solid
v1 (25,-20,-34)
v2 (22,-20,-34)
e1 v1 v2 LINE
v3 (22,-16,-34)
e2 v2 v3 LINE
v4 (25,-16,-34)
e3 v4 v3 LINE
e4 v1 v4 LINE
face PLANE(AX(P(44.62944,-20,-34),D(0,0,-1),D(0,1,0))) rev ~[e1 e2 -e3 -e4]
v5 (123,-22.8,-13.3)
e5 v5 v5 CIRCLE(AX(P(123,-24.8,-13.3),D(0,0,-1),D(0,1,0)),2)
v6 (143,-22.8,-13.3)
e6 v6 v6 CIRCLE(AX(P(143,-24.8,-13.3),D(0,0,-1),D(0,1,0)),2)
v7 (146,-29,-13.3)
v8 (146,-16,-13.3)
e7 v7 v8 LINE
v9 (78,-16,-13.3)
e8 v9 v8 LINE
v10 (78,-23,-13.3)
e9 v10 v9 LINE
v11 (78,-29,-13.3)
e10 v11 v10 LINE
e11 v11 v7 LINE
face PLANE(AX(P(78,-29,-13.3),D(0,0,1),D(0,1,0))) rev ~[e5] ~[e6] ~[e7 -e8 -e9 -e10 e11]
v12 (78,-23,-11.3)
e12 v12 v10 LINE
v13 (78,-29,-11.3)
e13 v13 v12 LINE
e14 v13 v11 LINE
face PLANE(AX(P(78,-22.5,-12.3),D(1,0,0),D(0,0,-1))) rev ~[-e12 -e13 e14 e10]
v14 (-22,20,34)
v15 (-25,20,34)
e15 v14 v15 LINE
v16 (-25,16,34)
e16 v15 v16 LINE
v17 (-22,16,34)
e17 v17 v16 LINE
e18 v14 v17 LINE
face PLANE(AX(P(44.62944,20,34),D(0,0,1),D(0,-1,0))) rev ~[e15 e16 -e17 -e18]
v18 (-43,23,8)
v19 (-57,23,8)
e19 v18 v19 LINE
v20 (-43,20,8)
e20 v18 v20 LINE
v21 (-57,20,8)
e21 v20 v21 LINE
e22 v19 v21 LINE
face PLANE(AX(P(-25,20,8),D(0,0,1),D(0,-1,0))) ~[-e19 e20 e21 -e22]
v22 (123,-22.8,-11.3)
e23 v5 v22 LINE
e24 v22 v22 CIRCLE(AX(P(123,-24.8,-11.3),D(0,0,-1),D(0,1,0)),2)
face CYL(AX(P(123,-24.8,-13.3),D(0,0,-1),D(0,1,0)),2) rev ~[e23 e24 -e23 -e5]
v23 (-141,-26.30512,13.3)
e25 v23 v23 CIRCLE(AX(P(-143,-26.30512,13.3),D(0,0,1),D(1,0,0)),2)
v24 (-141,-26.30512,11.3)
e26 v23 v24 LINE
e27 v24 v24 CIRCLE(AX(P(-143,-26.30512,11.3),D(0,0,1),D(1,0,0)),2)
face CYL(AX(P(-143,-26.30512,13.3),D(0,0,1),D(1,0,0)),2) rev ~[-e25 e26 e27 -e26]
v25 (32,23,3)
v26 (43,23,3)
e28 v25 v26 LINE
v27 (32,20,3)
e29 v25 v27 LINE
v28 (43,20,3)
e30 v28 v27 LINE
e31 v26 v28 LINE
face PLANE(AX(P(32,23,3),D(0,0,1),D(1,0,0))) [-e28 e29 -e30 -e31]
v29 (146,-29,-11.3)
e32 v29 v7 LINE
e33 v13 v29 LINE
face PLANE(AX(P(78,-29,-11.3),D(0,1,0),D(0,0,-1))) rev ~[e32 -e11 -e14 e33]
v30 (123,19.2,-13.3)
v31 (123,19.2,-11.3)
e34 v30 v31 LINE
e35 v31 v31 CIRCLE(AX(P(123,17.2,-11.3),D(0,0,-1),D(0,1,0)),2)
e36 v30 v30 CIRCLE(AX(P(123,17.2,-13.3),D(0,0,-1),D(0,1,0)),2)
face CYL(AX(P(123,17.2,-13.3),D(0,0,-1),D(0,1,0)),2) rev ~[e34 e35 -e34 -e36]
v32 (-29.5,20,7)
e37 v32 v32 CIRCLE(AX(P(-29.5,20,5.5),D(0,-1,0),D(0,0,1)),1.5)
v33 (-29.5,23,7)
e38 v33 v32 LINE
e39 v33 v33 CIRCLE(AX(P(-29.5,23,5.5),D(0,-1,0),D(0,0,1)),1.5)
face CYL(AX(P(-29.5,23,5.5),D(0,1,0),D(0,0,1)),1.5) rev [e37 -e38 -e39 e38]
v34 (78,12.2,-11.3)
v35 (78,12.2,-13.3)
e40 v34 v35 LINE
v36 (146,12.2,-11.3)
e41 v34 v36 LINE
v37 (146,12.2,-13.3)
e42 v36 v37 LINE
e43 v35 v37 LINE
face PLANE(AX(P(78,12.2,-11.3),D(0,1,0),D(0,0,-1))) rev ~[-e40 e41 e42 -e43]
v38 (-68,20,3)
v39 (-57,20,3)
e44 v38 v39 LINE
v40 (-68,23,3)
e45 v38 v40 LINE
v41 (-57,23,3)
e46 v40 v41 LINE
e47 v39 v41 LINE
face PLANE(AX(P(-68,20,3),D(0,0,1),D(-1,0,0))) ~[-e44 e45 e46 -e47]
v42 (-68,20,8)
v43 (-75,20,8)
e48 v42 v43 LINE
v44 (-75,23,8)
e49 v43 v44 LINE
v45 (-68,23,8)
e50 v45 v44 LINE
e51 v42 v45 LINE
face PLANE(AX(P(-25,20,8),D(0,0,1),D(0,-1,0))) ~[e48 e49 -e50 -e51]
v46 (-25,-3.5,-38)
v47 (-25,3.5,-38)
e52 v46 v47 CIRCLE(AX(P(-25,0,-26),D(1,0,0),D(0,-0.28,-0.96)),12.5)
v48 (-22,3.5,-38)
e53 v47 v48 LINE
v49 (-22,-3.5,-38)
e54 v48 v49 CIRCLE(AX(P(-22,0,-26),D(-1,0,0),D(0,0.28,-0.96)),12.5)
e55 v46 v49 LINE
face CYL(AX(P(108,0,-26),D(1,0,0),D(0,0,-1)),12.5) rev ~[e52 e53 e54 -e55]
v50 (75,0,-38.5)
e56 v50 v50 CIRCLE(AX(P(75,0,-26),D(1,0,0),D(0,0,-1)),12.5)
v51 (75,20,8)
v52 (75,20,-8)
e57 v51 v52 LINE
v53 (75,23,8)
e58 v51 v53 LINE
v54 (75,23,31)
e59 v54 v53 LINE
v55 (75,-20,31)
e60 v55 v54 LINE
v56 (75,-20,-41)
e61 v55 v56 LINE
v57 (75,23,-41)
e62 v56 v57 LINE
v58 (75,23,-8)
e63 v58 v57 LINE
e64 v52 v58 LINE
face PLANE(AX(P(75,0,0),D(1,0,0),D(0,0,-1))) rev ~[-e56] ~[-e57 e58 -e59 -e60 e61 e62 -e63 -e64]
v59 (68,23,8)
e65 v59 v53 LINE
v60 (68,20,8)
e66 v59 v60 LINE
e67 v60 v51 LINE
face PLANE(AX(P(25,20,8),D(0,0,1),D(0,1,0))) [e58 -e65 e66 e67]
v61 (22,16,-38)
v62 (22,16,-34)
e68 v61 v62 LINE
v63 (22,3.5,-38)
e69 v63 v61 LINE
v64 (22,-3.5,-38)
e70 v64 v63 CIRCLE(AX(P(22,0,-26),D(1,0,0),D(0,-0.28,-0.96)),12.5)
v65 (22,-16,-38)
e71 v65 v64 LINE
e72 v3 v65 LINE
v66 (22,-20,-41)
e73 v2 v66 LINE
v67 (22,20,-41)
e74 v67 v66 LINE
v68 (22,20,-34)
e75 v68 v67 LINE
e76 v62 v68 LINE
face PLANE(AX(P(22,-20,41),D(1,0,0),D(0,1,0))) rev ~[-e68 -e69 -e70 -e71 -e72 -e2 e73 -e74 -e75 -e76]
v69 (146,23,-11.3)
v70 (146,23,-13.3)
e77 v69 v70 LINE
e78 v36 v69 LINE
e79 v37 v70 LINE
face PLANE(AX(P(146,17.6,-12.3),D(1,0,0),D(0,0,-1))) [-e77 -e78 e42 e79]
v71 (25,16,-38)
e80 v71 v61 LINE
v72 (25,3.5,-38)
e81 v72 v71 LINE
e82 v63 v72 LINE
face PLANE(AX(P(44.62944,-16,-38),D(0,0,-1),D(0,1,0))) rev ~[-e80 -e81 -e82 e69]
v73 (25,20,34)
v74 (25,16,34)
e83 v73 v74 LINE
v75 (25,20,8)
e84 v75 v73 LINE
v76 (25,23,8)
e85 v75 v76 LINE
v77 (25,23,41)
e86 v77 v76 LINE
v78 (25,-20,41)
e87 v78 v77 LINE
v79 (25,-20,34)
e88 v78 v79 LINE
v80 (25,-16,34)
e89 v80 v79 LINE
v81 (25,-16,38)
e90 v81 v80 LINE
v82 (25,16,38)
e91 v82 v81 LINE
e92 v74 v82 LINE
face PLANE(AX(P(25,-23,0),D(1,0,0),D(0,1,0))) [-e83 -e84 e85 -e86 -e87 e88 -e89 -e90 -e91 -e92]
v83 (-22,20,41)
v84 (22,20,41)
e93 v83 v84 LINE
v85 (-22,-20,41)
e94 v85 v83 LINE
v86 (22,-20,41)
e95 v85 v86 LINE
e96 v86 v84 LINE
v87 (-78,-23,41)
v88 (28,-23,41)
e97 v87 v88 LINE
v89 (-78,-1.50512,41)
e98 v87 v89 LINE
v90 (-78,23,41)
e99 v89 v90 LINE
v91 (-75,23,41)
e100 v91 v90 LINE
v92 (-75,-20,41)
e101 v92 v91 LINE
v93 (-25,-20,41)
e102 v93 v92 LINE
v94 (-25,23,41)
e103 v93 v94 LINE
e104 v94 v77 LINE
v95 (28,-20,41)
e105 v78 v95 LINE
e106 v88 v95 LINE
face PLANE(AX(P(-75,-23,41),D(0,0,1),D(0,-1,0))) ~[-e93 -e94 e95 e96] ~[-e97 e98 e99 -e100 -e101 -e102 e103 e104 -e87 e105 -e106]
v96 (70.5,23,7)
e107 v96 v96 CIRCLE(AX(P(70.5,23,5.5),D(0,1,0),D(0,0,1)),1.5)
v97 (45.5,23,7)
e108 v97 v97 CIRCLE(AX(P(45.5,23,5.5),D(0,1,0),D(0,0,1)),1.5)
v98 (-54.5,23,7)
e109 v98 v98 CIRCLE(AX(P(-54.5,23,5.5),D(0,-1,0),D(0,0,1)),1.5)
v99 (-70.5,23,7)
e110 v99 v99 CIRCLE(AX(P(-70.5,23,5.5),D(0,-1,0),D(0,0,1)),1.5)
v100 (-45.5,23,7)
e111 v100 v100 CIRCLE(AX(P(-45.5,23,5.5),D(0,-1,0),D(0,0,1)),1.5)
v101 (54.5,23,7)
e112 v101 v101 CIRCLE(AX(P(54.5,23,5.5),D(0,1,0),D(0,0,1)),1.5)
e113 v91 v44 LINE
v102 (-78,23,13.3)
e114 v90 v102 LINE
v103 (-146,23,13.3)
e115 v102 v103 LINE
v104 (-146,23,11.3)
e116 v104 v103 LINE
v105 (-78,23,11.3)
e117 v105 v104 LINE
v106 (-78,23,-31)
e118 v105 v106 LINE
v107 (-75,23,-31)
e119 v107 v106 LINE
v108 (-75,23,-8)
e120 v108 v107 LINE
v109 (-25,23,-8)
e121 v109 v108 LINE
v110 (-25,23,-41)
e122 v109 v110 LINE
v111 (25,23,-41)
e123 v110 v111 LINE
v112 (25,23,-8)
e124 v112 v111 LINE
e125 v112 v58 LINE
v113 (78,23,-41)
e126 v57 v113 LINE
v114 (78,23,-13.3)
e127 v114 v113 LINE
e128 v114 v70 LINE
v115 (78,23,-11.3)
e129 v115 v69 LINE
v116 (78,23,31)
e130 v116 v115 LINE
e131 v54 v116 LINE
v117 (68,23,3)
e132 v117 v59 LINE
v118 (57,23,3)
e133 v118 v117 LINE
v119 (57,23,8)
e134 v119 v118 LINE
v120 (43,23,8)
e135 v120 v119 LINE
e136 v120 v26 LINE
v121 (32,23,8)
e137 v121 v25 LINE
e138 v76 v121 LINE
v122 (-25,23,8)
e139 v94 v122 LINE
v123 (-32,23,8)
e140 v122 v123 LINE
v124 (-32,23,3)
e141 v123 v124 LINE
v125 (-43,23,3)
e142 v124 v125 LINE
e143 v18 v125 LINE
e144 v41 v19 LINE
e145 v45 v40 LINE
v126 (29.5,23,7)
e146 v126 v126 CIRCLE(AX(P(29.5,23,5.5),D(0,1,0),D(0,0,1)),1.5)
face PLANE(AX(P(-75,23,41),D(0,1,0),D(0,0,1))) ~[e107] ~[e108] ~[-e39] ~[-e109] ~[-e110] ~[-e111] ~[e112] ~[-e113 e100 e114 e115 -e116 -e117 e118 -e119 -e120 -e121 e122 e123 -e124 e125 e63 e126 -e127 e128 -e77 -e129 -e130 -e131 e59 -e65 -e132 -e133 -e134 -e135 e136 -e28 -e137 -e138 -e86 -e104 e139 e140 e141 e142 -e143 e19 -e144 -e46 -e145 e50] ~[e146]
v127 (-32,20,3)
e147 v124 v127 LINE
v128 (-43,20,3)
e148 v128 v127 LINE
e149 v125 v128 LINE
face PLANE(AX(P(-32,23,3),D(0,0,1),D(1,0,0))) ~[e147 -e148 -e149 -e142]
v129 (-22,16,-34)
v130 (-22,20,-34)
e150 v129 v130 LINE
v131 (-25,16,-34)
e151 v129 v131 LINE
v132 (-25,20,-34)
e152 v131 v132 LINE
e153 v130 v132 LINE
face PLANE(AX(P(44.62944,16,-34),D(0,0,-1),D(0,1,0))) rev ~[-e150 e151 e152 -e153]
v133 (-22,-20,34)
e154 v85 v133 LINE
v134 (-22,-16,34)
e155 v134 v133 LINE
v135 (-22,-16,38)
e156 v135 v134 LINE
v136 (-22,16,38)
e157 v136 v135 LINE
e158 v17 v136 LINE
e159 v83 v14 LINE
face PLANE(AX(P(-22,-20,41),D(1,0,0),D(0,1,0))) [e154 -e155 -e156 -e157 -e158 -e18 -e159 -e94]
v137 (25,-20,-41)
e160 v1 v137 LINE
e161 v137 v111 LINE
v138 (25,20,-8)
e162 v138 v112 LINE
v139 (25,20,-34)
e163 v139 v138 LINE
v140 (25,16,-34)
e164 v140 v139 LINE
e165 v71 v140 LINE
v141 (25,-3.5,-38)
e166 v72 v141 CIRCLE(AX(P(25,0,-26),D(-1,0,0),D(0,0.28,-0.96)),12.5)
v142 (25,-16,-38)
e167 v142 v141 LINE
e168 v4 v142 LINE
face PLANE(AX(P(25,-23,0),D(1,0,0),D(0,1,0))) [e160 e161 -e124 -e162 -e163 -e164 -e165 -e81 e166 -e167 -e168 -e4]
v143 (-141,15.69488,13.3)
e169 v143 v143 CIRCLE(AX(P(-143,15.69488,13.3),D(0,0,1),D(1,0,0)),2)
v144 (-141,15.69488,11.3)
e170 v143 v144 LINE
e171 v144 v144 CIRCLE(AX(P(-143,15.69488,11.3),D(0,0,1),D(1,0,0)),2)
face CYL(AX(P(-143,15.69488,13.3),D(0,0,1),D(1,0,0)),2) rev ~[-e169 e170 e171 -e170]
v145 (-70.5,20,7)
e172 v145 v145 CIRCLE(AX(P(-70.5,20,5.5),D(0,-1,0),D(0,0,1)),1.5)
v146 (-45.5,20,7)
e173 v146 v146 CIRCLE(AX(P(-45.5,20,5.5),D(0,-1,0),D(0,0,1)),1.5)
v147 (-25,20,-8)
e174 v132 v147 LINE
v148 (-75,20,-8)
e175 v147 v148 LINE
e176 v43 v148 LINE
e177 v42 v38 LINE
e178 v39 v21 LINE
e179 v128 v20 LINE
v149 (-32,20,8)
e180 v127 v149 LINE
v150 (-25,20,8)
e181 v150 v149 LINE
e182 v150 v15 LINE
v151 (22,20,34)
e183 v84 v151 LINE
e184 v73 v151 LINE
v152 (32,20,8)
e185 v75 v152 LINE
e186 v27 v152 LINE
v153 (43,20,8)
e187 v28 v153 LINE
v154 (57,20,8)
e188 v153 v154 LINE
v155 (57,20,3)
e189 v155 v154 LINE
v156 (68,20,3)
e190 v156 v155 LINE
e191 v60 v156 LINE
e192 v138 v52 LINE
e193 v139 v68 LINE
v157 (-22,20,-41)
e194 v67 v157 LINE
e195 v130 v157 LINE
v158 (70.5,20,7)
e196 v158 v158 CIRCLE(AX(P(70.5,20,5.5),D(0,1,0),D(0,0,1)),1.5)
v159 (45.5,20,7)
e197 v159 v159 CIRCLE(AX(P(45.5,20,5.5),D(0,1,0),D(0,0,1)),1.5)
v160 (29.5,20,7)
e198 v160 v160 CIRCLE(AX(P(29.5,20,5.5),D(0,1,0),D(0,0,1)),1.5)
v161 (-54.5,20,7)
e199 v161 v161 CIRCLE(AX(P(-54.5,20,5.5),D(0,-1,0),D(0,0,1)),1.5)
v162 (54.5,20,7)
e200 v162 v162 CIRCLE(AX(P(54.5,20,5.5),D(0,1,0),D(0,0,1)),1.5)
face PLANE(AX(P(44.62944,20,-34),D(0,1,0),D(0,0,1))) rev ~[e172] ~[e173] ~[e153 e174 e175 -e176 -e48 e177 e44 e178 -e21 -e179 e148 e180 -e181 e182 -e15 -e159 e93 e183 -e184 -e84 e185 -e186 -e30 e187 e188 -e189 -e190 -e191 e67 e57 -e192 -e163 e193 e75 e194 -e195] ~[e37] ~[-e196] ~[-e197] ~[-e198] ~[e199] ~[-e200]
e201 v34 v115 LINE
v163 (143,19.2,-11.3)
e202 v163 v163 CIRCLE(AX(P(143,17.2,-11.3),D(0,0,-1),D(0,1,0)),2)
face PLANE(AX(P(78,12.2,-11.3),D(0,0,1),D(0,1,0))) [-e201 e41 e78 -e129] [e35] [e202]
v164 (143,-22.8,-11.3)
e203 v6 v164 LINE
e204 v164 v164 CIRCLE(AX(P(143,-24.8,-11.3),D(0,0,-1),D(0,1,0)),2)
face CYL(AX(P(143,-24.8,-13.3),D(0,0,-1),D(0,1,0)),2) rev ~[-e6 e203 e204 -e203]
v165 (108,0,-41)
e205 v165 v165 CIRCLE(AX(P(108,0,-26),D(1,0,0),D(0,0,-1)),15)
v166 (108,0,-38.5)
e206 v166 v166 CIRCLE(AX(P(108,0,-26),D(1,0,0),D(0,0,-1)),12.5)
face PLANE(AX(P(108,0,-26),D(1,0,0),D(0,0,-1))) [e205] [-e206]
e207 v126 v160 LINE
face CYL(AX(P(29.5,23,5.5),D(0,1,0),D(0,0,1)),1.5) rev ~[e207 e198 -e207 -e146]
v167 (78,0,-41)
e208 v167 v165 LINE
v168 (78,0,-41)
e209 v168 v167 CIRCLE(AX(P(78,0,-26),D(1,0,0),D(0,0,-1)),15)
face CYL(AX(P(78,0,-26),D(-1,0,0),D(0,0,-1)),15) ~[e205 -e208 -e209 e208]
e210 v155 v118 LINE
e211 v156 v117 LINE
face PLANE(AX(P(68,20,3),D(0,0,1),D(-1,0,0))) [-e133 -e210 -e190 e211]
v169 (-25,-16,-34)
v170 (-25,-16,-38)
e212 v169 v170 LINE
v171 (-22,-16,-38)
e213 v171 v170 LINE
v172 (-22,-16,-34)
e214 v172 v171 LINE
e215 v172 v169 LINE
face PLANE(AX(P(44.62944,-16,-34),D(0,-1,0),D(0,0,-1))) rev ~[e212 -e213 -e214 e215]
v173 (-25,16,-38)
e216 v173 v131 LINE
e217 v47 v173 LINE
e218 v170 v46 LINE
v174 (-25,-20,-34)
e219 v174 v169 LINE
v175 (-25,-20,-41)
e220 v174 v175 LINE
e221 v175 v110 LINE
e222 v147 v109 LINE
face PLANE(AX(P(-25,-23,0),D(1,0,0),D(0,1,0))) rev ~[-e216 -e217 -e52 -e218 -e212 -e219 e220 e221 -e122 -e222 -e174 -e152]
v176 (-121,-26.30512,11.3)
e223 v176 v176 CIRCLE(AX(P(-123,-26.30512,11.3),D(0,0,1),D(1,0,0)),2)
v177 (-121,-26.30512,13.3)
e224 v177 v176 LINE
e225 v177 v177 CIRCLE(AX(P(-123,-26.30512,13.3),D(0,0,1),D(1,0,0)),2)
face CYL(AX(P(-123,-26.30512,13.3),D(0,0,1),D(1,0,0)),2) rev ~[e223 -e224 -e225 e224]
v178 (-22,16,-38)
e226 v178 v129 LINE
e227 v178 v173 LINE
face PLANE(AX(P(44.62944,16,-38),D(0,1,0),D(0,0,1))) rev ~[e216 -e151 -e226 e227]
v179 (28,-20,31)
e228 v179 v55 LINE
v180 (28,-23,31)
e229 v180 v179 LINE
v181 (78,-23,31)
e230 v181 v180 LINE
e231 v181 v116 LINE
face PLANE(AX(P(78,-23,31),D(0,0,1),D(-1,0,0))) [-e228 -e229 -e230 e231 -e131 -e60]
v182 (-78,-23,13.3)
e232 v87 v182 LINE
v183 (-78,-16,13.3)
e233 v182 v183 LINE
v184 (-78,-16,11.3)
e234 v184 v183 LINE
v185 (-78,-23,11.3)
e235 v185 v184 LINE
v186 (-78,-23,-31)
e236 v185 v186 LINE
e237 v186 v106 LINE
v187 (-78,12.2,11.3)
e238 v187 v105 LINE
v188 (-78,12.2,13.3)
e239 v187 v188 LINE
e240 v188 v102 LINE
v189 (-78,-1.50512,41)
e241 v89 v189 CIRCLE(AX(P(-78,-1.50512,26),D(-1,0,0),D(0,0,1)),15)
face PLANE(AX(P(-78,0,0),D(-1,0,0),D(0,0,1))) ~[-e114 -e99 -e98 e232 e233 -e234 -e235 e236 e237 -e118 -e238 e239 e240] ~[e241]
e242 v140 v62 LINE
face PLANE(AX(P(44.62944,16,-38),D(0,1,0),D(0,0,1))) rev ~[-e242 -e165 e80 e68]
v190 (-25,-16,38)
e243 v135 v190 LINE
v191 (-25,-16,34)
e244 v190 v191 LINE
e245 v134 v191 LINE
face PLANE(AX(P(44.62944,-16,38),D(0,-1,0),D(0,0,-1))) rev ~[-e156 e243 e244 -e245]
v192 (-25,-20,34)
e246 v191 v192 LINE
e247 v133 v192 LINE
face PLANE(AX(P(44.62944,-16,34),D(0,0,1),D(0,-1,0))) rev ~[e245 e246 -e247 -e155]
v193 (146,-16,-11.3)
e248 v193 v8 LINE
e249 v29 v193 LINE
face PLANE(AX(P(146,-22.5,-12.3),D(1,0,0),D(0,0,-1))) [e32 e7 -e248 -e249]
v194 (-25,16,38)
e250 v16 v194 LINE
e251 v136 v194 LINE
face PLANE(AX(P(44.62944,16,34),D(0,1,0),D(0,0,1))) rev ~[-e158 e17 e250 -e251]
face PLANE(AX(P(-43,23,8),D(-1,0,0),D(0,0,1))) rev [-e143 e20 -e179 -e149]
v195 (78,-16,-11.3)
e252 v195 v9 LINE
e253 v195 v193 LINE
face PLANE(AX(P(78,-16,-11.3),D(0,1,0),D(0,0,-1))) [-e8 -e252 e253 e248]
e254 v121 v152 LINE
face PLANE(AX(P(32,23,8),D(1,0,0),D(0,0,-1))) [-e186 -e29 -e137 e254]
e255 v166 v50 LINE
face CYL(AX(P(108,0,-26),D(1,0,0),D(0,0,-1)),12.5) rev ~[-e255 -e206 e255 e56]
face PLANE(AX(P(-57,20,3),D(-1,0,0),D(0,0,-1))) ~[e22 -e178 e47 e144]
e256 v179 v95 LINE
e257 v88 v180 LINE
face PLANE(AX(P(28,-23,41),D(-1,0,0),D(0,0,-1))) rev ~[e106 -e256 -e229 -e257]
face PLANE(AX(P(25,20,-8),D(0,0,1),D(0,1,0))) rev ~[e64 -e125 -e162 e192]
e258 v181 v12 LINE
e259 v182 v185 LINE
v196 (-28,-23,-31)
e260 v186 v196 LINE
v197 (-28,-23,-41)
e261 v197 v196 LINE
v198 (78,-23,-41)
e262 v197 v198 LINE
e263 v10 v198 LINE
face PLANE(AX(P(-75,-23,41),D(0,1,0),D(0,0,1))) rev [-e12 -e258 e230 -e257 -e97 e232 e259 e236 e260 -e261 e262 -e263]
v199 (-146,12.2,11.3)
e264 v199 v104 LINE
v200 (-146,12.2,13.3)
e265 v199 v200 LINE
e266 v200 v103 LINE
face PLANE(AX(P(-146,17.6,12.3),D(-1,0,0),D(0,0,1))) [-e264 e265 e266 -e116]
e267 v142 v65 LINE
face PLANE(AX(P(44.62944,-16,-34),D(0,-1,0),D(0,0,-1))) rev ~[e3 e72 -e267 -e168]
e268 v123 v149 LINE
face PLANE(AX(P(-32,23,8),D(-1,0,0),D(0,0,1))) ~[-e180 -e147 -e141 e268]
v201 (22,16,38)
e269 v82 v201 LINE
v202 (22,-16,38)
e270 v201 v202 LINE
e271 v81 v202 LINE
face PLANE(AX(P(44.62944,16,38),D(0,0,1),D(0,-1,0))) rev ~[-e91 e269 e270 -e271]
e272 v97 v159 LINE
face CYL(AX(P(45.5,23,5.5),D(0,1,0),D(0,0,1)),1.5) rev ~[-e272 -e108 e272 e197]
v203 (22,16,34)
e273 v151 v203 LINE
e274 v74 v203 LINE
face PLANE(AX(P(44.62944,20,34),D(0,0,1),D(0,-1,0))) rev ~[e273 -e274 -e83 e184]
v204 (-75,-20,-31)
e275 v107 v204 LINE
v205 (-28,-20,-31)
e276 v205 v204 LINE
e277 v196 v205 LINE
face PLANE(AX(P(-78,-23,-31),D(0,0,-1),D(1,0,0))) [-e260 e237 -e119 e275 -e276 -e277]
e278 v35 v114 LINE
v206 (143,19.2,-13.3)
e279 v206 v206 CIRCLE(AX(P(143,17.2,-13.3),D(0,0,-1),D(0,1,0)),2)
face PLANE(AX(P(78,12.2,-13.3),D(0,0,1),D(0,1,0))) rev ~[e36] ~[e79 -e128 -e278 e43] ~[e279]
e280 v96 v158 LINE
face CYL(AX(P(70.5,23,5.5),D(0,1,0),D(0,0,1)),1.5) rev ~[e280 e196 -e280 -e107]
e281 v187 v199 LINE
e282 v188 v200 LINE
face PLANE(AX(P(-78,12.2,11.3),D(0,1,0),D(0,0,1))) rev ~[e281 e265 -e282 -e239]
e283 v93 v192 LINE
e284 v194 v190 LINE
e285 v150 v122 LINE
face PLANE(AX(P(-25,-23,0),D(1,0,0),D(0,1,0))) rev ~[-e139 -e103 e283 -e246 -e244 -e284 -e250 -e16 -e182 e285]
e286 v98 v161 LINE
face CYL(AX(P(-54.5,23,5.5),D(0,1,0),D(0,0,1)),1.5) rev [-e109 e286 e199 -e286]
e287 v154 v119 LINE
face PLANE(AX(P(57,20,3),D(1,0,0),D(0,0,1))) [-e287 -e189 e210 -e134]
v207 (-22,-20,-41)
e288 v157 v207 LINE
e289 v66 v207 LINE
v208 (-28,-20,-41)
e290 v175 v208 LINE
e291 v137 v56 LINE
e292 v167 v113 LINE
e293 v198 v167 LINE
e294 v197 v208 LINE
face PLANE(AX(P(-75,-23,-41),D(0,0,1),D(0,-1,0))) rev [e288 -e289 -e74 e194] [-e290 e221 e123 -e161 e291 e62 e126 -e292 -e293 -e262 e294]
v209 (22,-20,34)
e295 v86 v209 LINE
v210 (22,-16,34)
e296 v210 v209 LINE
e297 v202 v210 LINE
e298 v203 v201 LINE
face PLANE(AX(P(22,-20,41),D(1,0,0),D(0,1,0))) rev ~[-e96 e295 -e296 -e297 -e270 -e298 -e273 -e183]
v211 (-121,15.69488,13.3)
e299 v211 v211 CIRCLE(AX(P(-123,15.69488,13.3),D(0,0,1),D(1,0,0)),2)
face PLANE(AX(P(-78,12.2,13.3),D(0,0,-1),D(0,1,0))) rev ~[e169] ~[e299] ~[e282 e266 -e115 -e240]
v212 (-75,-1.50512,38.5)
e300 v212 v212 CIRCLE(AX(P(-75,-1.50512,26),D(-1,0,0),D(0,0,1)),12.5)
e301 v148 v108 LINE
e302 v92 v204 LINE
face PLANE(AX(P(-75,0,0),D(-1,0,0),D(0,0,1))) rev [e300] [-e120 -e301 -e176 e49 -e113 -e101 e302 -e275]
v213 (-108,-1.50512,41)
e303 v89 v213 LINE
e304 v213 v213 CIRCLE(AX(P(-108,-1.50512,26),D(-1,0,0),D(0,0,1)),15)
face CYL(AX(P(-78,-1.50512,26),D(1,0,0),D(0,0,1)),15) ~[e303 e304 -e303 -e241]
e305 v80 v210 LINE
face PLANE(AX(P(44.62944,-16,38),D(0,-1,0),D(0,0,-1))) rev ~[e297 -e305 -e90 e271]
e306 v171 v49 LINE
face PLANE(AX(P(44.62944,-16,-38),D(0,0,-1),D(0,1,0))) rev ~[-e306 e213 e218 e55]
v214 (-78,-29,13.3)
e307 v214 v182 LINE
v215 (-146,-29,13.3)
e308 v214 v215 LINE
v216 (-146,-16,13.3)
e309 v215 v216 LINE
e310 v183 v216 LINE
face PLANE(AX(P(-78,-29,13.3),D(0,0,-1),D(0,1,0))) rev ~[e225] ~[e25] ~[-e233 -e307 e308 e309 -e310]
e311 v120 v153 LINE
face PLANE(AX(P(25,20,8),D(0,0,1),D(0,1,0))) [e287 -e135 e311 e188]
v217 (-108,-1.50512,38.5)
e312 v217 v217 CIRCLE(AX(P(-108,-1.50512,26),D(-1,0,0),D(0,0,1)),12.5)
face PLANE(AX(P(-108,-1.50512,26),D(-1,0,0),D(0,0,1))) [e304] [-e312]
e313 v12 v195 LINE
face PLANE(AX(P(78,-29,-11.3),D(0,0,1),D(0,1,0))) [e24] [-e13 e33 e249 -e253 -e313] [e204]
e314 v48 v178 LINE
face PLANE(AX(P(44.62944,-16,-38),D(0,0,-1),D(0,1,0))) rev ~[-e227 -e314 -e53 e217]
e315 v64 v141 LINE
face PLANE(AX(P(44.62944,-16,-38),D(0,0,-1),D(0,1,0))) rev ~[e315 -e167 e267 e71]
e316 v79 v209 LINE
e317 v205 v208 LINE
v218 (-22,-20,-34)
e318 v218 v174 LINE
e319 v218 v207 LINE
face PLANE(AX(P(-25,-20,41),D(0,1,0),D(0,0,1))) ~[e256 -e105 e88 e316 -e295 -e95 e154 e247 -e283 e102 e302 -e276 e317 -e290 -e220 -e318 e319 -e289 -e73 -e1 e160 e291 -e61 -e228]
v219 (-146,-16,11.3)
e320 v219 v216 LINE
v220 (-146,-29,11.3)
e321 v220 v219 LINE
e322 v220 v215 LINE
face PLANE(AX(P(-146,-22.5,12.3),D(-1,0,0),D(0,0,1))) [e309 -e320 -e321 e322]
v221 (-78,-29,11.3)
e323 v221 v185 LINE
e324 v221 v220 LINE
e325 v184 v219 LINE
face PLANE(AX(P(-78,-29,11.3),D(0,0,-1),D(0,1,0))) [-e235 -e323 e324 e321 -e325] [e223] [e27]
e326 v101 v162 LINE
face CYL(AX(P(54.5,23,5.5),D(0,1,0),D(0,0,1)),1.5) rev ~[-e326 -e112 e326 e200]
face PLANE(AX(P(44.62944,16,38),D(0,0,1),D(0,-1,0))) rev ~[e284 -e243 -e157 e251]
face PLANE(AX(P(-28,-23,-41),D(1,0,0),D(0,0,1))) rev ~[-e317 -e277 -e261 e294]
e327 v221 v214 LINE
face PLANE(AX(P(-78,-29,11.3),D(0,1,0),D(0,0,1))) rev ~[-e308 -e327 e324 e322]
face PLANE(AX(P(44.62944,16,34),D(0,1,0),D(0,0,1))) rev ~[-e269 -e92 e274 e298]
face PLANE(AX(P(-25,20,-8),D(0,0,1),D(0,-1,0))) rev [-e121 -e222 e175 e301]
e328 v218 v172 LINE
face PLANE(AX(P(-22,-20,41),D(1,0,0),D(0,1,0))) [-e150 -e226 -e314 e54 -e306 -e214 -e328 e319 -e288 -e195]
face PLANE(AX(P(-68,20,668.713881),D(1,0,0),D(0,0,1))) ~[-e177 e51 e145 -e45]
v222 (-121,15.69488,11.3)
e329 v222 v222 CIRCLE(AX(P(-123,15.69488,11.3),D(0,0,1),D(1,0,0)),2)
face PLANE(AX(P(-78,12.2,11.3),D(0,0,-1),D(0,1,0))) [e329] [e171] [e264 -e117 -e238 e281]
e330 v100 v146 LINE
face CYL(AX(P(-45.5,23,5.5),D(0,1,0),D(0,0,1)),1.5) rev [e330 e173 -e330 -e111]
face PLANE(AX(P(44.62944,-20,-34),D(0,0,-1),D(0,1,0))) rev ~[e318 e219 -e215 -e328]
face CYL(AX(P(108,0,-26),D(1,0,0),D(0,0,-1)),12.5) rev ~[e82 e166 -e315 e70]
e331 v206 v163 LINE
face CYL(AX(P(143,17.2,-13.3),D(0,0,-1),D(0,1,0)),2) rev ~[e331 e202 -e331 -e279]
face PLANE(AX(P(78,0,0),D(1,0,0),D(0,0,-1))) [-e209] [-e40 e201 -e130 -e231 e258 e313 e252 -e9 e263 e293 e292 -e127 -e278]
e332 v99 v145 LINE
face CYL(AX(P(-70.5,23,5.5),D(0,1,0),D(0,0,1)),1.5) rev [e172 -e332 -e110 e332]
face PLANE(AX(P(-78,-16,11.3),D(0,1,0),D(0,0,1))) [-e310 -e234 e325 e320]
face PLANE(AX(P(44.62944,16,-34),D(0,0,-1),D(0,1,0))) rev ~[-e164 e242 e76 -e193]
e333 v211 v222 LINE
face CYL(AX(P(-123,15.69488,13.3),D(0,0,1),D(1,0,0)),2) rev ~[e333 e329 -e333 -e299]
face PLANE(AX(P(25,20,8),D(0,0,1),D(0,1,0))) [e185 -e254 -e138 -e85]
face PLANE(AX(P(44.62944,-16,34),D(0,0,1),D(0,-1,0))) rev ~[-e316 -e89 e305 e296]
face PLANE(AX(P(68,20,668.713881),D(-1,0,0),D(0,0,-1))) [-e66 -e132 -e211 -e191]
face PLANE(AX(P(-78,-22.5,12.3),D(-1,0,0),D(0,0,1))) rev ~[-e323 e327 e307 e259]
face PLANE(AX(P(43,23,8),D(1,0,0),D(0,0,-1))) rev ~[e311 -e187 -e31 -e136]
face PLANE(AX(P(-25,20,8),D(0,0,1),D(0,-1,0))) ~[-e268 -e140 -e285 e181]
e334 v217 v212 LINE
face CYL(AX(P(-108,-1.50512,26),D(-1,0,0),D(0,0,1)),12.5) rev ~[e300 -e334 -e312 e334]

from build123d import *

# Parameters (mm, degrees)
SKETCH1_W               = 50
SKETCH1_H               = 46
BOSS_EXTRUDE1_DEPTH     = 41
CUT_EXTRUDE1_REACH      = 90.758
SKETCH2_W               = 44
SKETCH2_H               = 40
CUT_EXTRUDE2_DEPTH      = 69.629439747
CUT_EXTRUDE2_DEPTH_BACK = 69.629439747
SKETCH4_W               = 82
SKETCH4_H               = 3
BOSS_EXTRUDE2_DEPTH     = 50
SKETCH7_W               = 16
SKETCH7_H               = 3
BOSS_EXTRUDE4_DEPTH     = 50
SKETCH8_W               = 82
SKETCH8_H               = 46
BOSS_EXTRUDE5_DEPTH     = 3
CUT_EXTRUDE4_START      = -3
CUT_EXTRUDE4_DEPTH      = 103.403219264
CUT_EXTRUDE5_REACH      = 101.403
SKETCH10_W              = 11
SKETCH10_H              = 5
CUT_EXTRUDE6_REACH      = 101.403
SKETCH11_R              = 1.5
SKETCH12_R              = 15
BOSS_EXTRUDE6_DEPTH     = 30
SKETCH13_R              = 12.5
CUT_EXTRUDE7_DEPTH      = 142.063815346
SKETCH14_W              = 2
SKETCH14_H              = 10.8
SKETCH14_H_2            = 13
BOSS_EXTRUDE7_DEPTH     = 68
SKETCH16_R              = 15
BOSS_EXTRUDE8_DEPTH     = 30
CUT_EXTRUDE9_REACH      = 260.917
SKETCH17_R              = 12.5
SKETCH18_W              = 2
SKETCH18_H              = 10.8
BOSS_EXTRUDE9_DEPTH     = 68
SKETCH19_W              = 2
SKETCH19_H              = 13
BOSS_EXTRUDE10_DEPTH    = 68
CUT_EXTRUDE10_REACH     = 160.447
SKETCH15_R              = 2
CUT_EXTRUDE11_REACH     = 160.447
SKETCH20_R              = 2
CUT_EXTRUDE12_REACH     = 160.471
SKETCH21_W              = 50
SKETCH21_H              = 10
CUT_EXTRUDE13_REACH     = 160.471
SKETCH22_W              = 50
SKETCH22_H              = 10


with BuildPart() as part:
    # Sketch1 → Boss-Extrude1 (new, symmetric)
    with BuildSketch(Plane.XY):
        Rectangle(SKETCH1_W, SKETCH1_H)
    extrude(amount=BOSS_EXTRUDE1_DEPTH, both=True)

    # Sketch2 → Cut-Extrude1 (cut, up to next)
    with BuildSketch(Plane.XY.offset(41), mode=Mode.PRIVATE) as cut_extrude1_sk1:
        Rectangle(SKETCH2_W, SKETCH2_H)
    cut_extrude1_tool1 = extrude(cut_extrude1_sk1.sketch, amount=-CUT_EXTRUDE1_REACH, mode=Mode.PRIVATE) & part.part
    add(cut_extrude1_tool1.solids().sort_by_distance((0, 0, 41))[0], mode=Mode.SUBTRACT)

    # Sketch3 → Cut-Extrude2 (cut, two sides: drawn at the far end of the back side and taken through both)
    with BuildSketch(Plane.ZY.offset(25).offset(-CUT_EXTRUDE2_DEPTH_BACK)):
        Polygon((-34, 16), (-34, 20), (34, 20), (34, 16), (38, 16), (38, -16), (34, -16), (34, -20), (-34, -20), (-34, -16), (-38, -16), (-38, 16), align=None)
    extrude(amount=CUT_EXTRUDE2_DEPTH + CUT_EXTRUDE2_DEPTH_BACK, mode=Mode.SUBTRACT)

    # Sketch4 → Boss-Extrude2 (add)
    with BuildSketch(Plane(origin=(25, 0, 0), x_dir=(0, 0, -1), z_dir=(1, 0, 0))):
        with Locations((0, -21.5)):
            Rectangle(SKETCH4_W, SKETCH4_H)
    boss_extrude2 = extrude(amount=BOSS_EXTRUDE2_DEPTH)

    # Sketch7 → Boss-Extrude4 (add)
    with BuildSketch(Plane(origin=(25, 0, 0), x_dir=(0, 0, -1), z_dir=(1, 0, 0))):
        with Locations((0, 21.5)):
            Rectangle(SKETCH7_W, SKETCH7_H)
    boss_extrude4 = extrude(amount=BOSS_EXTRUDE4_DEPTH)

    # Sketch8 → Boss-Extrude5 (add)
    with BuildSketch(Plane(origin=(75, 0, 0), x_dir=(0, 0, -1), z_dir=(1, 0, 0))):
        Rectangle(SKETCH8_W, SKETCH8_H)
    boss_extrude5 = extrude(amount=BOSS_EXTRUDE5_DEPTH)

    # Sketch9 → Cut-Extrude4 (cut)
    with BuildSketch(Plane(origin=(0, 23, 0), x_dir=(1, 0, 0), z_dir=(0, 1, 0)).offset(CUT_EXTRUDE4_START)):
        Polygon((68, -228.237960416), (68, -8), (68, -3), (57, -3), (57, -8), (57, -228.237960416), (57, -668.713881249), (68, -668.713881249), align=None)
    cut_extrude4 = extrude(amount=CUT_EXTRUDE4_DEPTH, mode=Mode.SUBTRACT)

    # Sketch10 → Cut-Extrude5 (cut, up to next)
    with BuildSketch(Plane(origin=(0, 23, 0), x_dir=(1, 0, 0), z_dir=(0, 1, 0)), mode=Mode.PRIVATE) as cut_extrude5_sk1:
        with Locations((37.5, -5.5)):
            Rectangle(SKETCH10_W, SKETCH10_H)
    cut_extrude5_tool1 = extrude(cut_extrude5_sk1.sketch, amount=-CUT_EXTRUDE5_REACH, mode=Mode.PRIVATE) & part.part
    cut_extrude5 = cut_extrude5_tool1.solids().sort_by_distance((37.5, 23, 5.5))[0]
    add(cut_extrude5, mode=Mode.SUBTRACT)

    # Sketch11 → Cut-Extrude6 (cut, up to next)
    with BuildSketch(Plane(origin=(0, 23, 0), x_dir=(1, 0, 0), z_dir=(0, 1, 0)), mode=Mode.PRIVATE) as cut_extrude6_sk1:
        with Locations(Location((29.5, -5.5, 0), (0, 0, 270))):
            Circle(SKETCH11_R)
    cut_extrude6_tool1 = extrude(cut_extrude6_sk1.sketch, amount=-CUT_EXTRUDE6_REACH, mode=Mode.PRIVATE) & part.part
    # Sketch11 → Cut-Extrude6 (cut, up to next)
    with BuildSketch(Plane(origin=(0, 23, 0), x_dir=(1, 0, 0), z_dir=(0, 1, 0)), mode=Mode.PRIVATE) as cut_extrude6_sk2:
        with Locations(Location((45.5, -5.5, 0), (0, 0, 270))):
            Circle(SKETCH11_R)
    cut_extrude6_tool2 = extrude(cut_extrude6_sk2.sketch, amount=-CUT_EXTRUDE6_REACH, mode=Mode.PRIVATE) & part.part
    # Sketch11 → Cut-Extrude6 (cut, up to next)
    with BuildSketch(Plane(origin=(0, 23, 0), x_dir=(1, 0, 0), z_dir=(0, 1, 0)), mode=Mode.PRIVATE) as cut_extrude6_sk3:
        with Locations(Location((54.5, -5.5, 0), (0, 0, 270))):
            Circle(SKETCH11_R)
    cut_extrude6_tool3 = extrude(cut_extrude6_sk3.sketch, amount=-CUT_EXTRUDE6_REACH, mode=Mode.PRIVATE) & part.part
    # Sketch11 → Cut-Extrude6 (cut, up to next)
    with BuildSketch(Plane(origin=(0, 23, 0), x_dir=(1, 0, 0), z_dir=(0, 1, 0)), mode=Mode.PRIVATE) as cut_extrude6_sk4:
        with Locations(Location((70.5, -5.5, 0), (0, 0, 270))):
            Circle(SKETCH11_R)
    cut_extrude6_tool4 = extrude(cut_extrude6_sk4.sketch, amount=-CUT_EXTRUDE6_REACH, mode=Mode.PRIVATE) & part.part
    cut_extrude6_1 = cut_extrude6_tool1.solids().sort_by_distance((29.5, 23, 5.5))[0]
    add(cut_extrude6_1, mode=Mode.SUBTRACT)
    cut_extrude6_2 = cut_extrude6_tool2.solids().sort_by_distance((45.5, 23, 5.5))[0]
    add(cut_extrude6_2, mode=Mode.SUBTRACT)
    cut_extrude6_3 = cut_extrude6_tool3.solids().sort_by_distance((54.5, 23, 5.5))[0]
    add(cut_extrude6_3, mode=Mode.SUBTRACT)
    cut_extrude6_4 = cut_extrude6_tool4.solids().sort_by_distance((70.5, 23, 5.5))[0]
    add(cut_extrude6_4, mode=Mode.SUBTRACT)
    cut_extrude6 = cut_extrude6_1 + cut_extrude6_2 + cut_extrude6_3 + cut_extrude6_4  # Cut-Extrude6 as one shape, for the pattern or mirror that repeats it

    # Sketch12 → Boss-Extrude6 (add)
    with BuildSketch(Plane(origin=(78, 0, 0), x_dir=(0, 0, -1), z_dir=(1, 0, 0))):
        with Locations((26, 0)):
            Circle(SKETCH12_R)
    extrude(amount=BOSS_EXTRUDE6_DEPTH)

    # Sketch13 → Cut-Extrude7 (cut, through all)
    with BuildSketch(Plane(origin=(108, 0, 0), x_dir=(0, 0, -1), z_dir=(1, 0, 0))):
        with Locations((26, 0)):
            Circle(SKETCH13_R)
    extrude(amount=-CUT_EXTRUDE7_DEPTH, mode=Mode.SUBTRACT)

    # Sketch14 → Boss-Extrude7 (add)
    with BuildSketch(Plane(origin=(78, 0, 0), x_dir=(0, 0, -1), z_dir=(1, 0, 0))):
        with Locations((12.3, 17.6)):
            Rectangle(SKETCH14_W, SKETCH14_H)
        with Locations((12.3, -22.5)):
            Rectangle(SKETCH14_W, SKETCH14_H_2)
    extrude(amount=BOSS_EXTRUDE7_DEPTH)

    # Mirror1: Boss-Extrude2, Boss-Extrude4, Boss-Extrude5, Cut-Extrude4, Cut-Extrude5, Cut-Extrude6 across plane
    add(boss_extrude2.mirror(Plane(origin=(0, 0, 0), x_dir=(0, 0, 1), z_dir=(1, 0, 0))))
    add(boss_extrude4.mirror(Plane(origin=(0, 0, 0), x_dir=(0, 0, 1), z_dir=(1, 0, 0))))
    add(boss_extrude5.mirror(Plane(origin=(0, 0, 0), x_dir=(0, 0, 1), z_dir=(1, 0, 0))))
    add(cut_extrude4.mirror(Plane(origin=(0, 0, 0), x_dir=(0, 0, 1), z_dir=(1, 0, 0))), mode=Mode.SUBTRACT)
    add(cut_extrude5.mirror(Plane(origin=(0, 0, 0), x_dir=(0, 0, 1), z_dir=(1, 0, 0))), mode=Mode.SUBTRACT)
    add(cut_extrude6.mirror(Plane(origin=(0, 0, 0), x_dir=(0, 0, 1), z_dir=(1, 0, 0))), mode=Mode.SUBTRACT)

    # Sketch16 → Boss-Extrude8 (add)
    with BuildSketch(Plane.ZY.offset(78)):
        with Locations((26, -1.505120408)):
            Circle(SKETCH16_R)
    extrude(amount=BOSS_EXTRUDE8_DEPTH)

    # Sketch17 → Cut-Extrude9 (cut, up to next)
    with BuildSketch(Plane.ZY.offset(108), mode=Mode.PRIVATE) as cut_extrude9_sk1:
        with Locations((26, -1.505120408)):
            Circle(SKETCH17_R)
    cut_extrude9_tool1 = extrude(cut_extrude9_sk1.sketch, amount=-CUT_EXTRUDE9_REACH, mode=Mode.PRIVATE) & part.part
    add(cut_extrude9_tool1.solids().sort_by_distance((-108, -1.50512, 26))[0], mode=Mode.SUBTRACT)

    # Sketch18 → Boss-Extrude9 (add)
    with BuildSketch(Plane.ZY.offset(78)):
        with Locations((12.3, 17.6)):
            Rectangle(SKETCH18_W, SKETCH18_H)
    extrude(amount=BOSS_EXTRUDE9_DEPTH)

    # Sketch19 → Boss-Extrude10 (add)
    with BuildSketch(Plane.ZY.offset(78)):
        with Locations((12.3, -22.5)):
            Rectangle(SKETCH19_W, SKETCH19_H)
    extrude(amount=BOSS_EXTRUDE10_DEPTH)

    # Sketch15 → Cut-Extrude10 (cut, up to next)
    with BuildSketch(Plane(origin=(0, 0, -13.3), x_dir=(-1, 0, 0), z_dir=(0, 0, -1)), mode=Mode.PRIVATE) as cut_extrude10_sk1:
        with Locations(Location((-143, -24.8, 0), (0, 0, 90))):
            Circle(SKETCH15_R)
    cut_extrude10_tool1 = extrude(cut_extrude10_sk1.sketch, amount=-CUT_EXTRUDE10_REACH, mode=Mode.PRIVATE) & part.part
    # Sketch15 → Cut-Extrude10 (cut, up to next)
    with BuildSketch(Plane(origin=(0, 0, -13.3), x_dir=(-1, 0, 0), z_dir=(0, 0, -1)), mode=Mode.PRIVATE) as cut_extrude10_sk2:
        with Locations(Location((-123, -24.8, 0), (0, 0, 90))):
            Circle(SKETCH15_R)
    cut_extrude10_tool2 = extrude(cut_extrude10_sk2.sketch, amount=-CUT_EXTRUDE10_REACH, mode=Mode.PRIVATE) & part.part
    # Sketch15 → Cut-Extrude10 (cut, up to next)
    with BuildSketch(Plane(origin=(0, 0, -13.3), x_dir=(-1, 0, 0), z_dir=(0, 0, -1)), mode=Mode.PRIVATE) as cut_extrude10_sk3:
        with Locations(Location((-123, 17.2, 0), (0, 0, 90))):
            Circle(SKETCH15_R)
    cut_extrude10_tool3 = extrude(cut_extrude10_sk3.sketch, amount=-CUT_EXTRUDE10_REACH, mode=Mode.PRIVATE) & part.part
    # Sketch15 → Cut-Extrude10 (cut, up to next)
    with BuildSketch(Plane(origin=(0, 0, -13.3), x_dir=(-1, 0, 0), z_dir=(0, 0, -1)), mode=Mode.PRIVATE) as cut_extrude10_sk4:
        with Locations(Location((-143, 17.2, 0), (0, 0, 90))):
            Circle(SKETCH15_R)
    cut_extrude10_tool4 = extrude(cut_extrude10_sk4.sketch, amount=-CUT_EXTRUDE10_REACH, mode=Mode.PRIVATE) & part.part
    add(cut_extrude10_tool1.solids().sort_by_distance((143, -24.8, -13.3))[0], mode=Mode.SUBTRACT)
    add(cut_extrude10_tool2.solids().sort_by_distance((123, -24.8, -13.3))[0], mode=Mode.SUBTRACT)
    add(cut_extrude10_tool3.solids().sort_by_distance((123, 17.2, -13.3))[0], mode=Mode.SUBTRACT)
    add(cut_extrude10_tool4.solids().sort_by_distance((143, 17.2, -13.3))[0], mode=Mode.SUBTRACT)

    # Sketch20 → Cut-Extrude11 (cut, up to next)
    with BuildSketch(Plane.XY.offset(13.3), mode=Mode.PRIVATE) as cut_extrude11_sk1:
        with Locations((-123, 15.694879592)):
            Circle(SKETCH20_R)
    cut_extrude11_tool1 = extrude(cut_extrude11_sk1.sketch, amount=-CUT_EXTRUDE11_REACH, mode=Mode.PRIVATE) & part.part
    # Sketch20 → Cut-Extrude11 (cut, up to next)
    with BuildSketch(Plane.XY.offset(13.3), mode=Mode.PRIVATE) as cut_extrude11_sk2:
        with Locations((-143, 15.694879592)):
            Circle(SKETCH20_R)
    cut_extrude11_tool2 = extrude(cut_extrude11_sk2.sketch, amount=-CUT_EXTRUDE11_REACH, mode=Mode.PRIVATE) & part.part
    # Sketch20 → Cut-Extrude11 (cut, up to next)
    with BuildSketch(Plane.XY.offset(13.3), mode=Mode.PRIVATE) as cut_extrude11_sk3:
        with Locations((-123, -26.305120408)):
            Circle(SKETCH20_R)
    cut_extrude11_tool3 = extrude(cut_extrude11_sk3.sketch, amount=-CUT_EXTRUDE11_REACH, mode=Mode.PRIVATE) & part.part
    # Sketch20 → Cut-Extrude11 (cut, up to next)
    with BuildSketch(Plane.XY.offset(13.3), mode=Mode.PRIVATE) as cut_extrude11_sk4:
        with Locations((-143, -26.305120408)):
            Circle(SKETCH20_R)
    cut_extrude11_tool4 = extrude(cut_extrude11_sk4.sketch, amount=-CUT_EXTRUDE11_REACH, mode=Mode.PRIVATE) & part.part
    add(cut_extrude11_tool1.solids().sort_by_distance((-123, 15.69488, 13.3))[0], mode=Mode.SUBTRACT)
    add(cut_extrude11_tool2.solids().sort_by_distance((-143, 15.69488, 13.3))[0], mode=Mode.SUBTRACT)
    add(cut_extrude11_tool3.solids().sort_by_distance((-123, -26.30512, 13.3))[0], mode=Mode.SUBTRACT)
    add(cut_extrude11_tool4.solids().sort_by_distance((-143, -26.30512, 13.3))[0], mode=Mode.SUBTRACT)

    # Sketch21 → Cut-Extrude12 (cut, up to next)
    with BuildSketch(Plane.XZ.offset(23), mode=Mode.PRIVATE) as cut_extrude12_sk1:
        with Locations((-53, -36)):
            Rectangle(SKETCH21_W, SKETCH21_H)
    cut_extrude12_tool1 = extrude(cut_extrude12_sk1.sketch, amount=-CUT_EXTRUDE12_REACH, mode=Mode.PRIVATE) & part.part
    add(cut_extrude12_tool1.solids().sort_by_distance((-53, -23, -36))[0], mode=Mode.SUBTRACT)

    # Sketch22 → Cut-Extrude13 (cut, up to next)
    with BuildSketch(Plane(origin=(0, -23, 0), x_dir=(-1, 0, 0), z_dir=(0, -1, 0)), mode=Mode.PRIVATE) as cut_extrude13_sk1:
        with Locations((-53, -36)):
            Rectangle(SKETCH22_W, SKETCH22_H)
    cut_extrude13_tool1 = extrude(cut_extrude13_sk1.sketch, amount=-CUT_EXTRUDE13_REACH, mode=Mode.PRIVATE) & part.part
    add(cut_extrude13_tool1.solids().sort_by_distance((53, -23, 36))[0], mode=Mode.SUBTRACT)


solid = part.part
